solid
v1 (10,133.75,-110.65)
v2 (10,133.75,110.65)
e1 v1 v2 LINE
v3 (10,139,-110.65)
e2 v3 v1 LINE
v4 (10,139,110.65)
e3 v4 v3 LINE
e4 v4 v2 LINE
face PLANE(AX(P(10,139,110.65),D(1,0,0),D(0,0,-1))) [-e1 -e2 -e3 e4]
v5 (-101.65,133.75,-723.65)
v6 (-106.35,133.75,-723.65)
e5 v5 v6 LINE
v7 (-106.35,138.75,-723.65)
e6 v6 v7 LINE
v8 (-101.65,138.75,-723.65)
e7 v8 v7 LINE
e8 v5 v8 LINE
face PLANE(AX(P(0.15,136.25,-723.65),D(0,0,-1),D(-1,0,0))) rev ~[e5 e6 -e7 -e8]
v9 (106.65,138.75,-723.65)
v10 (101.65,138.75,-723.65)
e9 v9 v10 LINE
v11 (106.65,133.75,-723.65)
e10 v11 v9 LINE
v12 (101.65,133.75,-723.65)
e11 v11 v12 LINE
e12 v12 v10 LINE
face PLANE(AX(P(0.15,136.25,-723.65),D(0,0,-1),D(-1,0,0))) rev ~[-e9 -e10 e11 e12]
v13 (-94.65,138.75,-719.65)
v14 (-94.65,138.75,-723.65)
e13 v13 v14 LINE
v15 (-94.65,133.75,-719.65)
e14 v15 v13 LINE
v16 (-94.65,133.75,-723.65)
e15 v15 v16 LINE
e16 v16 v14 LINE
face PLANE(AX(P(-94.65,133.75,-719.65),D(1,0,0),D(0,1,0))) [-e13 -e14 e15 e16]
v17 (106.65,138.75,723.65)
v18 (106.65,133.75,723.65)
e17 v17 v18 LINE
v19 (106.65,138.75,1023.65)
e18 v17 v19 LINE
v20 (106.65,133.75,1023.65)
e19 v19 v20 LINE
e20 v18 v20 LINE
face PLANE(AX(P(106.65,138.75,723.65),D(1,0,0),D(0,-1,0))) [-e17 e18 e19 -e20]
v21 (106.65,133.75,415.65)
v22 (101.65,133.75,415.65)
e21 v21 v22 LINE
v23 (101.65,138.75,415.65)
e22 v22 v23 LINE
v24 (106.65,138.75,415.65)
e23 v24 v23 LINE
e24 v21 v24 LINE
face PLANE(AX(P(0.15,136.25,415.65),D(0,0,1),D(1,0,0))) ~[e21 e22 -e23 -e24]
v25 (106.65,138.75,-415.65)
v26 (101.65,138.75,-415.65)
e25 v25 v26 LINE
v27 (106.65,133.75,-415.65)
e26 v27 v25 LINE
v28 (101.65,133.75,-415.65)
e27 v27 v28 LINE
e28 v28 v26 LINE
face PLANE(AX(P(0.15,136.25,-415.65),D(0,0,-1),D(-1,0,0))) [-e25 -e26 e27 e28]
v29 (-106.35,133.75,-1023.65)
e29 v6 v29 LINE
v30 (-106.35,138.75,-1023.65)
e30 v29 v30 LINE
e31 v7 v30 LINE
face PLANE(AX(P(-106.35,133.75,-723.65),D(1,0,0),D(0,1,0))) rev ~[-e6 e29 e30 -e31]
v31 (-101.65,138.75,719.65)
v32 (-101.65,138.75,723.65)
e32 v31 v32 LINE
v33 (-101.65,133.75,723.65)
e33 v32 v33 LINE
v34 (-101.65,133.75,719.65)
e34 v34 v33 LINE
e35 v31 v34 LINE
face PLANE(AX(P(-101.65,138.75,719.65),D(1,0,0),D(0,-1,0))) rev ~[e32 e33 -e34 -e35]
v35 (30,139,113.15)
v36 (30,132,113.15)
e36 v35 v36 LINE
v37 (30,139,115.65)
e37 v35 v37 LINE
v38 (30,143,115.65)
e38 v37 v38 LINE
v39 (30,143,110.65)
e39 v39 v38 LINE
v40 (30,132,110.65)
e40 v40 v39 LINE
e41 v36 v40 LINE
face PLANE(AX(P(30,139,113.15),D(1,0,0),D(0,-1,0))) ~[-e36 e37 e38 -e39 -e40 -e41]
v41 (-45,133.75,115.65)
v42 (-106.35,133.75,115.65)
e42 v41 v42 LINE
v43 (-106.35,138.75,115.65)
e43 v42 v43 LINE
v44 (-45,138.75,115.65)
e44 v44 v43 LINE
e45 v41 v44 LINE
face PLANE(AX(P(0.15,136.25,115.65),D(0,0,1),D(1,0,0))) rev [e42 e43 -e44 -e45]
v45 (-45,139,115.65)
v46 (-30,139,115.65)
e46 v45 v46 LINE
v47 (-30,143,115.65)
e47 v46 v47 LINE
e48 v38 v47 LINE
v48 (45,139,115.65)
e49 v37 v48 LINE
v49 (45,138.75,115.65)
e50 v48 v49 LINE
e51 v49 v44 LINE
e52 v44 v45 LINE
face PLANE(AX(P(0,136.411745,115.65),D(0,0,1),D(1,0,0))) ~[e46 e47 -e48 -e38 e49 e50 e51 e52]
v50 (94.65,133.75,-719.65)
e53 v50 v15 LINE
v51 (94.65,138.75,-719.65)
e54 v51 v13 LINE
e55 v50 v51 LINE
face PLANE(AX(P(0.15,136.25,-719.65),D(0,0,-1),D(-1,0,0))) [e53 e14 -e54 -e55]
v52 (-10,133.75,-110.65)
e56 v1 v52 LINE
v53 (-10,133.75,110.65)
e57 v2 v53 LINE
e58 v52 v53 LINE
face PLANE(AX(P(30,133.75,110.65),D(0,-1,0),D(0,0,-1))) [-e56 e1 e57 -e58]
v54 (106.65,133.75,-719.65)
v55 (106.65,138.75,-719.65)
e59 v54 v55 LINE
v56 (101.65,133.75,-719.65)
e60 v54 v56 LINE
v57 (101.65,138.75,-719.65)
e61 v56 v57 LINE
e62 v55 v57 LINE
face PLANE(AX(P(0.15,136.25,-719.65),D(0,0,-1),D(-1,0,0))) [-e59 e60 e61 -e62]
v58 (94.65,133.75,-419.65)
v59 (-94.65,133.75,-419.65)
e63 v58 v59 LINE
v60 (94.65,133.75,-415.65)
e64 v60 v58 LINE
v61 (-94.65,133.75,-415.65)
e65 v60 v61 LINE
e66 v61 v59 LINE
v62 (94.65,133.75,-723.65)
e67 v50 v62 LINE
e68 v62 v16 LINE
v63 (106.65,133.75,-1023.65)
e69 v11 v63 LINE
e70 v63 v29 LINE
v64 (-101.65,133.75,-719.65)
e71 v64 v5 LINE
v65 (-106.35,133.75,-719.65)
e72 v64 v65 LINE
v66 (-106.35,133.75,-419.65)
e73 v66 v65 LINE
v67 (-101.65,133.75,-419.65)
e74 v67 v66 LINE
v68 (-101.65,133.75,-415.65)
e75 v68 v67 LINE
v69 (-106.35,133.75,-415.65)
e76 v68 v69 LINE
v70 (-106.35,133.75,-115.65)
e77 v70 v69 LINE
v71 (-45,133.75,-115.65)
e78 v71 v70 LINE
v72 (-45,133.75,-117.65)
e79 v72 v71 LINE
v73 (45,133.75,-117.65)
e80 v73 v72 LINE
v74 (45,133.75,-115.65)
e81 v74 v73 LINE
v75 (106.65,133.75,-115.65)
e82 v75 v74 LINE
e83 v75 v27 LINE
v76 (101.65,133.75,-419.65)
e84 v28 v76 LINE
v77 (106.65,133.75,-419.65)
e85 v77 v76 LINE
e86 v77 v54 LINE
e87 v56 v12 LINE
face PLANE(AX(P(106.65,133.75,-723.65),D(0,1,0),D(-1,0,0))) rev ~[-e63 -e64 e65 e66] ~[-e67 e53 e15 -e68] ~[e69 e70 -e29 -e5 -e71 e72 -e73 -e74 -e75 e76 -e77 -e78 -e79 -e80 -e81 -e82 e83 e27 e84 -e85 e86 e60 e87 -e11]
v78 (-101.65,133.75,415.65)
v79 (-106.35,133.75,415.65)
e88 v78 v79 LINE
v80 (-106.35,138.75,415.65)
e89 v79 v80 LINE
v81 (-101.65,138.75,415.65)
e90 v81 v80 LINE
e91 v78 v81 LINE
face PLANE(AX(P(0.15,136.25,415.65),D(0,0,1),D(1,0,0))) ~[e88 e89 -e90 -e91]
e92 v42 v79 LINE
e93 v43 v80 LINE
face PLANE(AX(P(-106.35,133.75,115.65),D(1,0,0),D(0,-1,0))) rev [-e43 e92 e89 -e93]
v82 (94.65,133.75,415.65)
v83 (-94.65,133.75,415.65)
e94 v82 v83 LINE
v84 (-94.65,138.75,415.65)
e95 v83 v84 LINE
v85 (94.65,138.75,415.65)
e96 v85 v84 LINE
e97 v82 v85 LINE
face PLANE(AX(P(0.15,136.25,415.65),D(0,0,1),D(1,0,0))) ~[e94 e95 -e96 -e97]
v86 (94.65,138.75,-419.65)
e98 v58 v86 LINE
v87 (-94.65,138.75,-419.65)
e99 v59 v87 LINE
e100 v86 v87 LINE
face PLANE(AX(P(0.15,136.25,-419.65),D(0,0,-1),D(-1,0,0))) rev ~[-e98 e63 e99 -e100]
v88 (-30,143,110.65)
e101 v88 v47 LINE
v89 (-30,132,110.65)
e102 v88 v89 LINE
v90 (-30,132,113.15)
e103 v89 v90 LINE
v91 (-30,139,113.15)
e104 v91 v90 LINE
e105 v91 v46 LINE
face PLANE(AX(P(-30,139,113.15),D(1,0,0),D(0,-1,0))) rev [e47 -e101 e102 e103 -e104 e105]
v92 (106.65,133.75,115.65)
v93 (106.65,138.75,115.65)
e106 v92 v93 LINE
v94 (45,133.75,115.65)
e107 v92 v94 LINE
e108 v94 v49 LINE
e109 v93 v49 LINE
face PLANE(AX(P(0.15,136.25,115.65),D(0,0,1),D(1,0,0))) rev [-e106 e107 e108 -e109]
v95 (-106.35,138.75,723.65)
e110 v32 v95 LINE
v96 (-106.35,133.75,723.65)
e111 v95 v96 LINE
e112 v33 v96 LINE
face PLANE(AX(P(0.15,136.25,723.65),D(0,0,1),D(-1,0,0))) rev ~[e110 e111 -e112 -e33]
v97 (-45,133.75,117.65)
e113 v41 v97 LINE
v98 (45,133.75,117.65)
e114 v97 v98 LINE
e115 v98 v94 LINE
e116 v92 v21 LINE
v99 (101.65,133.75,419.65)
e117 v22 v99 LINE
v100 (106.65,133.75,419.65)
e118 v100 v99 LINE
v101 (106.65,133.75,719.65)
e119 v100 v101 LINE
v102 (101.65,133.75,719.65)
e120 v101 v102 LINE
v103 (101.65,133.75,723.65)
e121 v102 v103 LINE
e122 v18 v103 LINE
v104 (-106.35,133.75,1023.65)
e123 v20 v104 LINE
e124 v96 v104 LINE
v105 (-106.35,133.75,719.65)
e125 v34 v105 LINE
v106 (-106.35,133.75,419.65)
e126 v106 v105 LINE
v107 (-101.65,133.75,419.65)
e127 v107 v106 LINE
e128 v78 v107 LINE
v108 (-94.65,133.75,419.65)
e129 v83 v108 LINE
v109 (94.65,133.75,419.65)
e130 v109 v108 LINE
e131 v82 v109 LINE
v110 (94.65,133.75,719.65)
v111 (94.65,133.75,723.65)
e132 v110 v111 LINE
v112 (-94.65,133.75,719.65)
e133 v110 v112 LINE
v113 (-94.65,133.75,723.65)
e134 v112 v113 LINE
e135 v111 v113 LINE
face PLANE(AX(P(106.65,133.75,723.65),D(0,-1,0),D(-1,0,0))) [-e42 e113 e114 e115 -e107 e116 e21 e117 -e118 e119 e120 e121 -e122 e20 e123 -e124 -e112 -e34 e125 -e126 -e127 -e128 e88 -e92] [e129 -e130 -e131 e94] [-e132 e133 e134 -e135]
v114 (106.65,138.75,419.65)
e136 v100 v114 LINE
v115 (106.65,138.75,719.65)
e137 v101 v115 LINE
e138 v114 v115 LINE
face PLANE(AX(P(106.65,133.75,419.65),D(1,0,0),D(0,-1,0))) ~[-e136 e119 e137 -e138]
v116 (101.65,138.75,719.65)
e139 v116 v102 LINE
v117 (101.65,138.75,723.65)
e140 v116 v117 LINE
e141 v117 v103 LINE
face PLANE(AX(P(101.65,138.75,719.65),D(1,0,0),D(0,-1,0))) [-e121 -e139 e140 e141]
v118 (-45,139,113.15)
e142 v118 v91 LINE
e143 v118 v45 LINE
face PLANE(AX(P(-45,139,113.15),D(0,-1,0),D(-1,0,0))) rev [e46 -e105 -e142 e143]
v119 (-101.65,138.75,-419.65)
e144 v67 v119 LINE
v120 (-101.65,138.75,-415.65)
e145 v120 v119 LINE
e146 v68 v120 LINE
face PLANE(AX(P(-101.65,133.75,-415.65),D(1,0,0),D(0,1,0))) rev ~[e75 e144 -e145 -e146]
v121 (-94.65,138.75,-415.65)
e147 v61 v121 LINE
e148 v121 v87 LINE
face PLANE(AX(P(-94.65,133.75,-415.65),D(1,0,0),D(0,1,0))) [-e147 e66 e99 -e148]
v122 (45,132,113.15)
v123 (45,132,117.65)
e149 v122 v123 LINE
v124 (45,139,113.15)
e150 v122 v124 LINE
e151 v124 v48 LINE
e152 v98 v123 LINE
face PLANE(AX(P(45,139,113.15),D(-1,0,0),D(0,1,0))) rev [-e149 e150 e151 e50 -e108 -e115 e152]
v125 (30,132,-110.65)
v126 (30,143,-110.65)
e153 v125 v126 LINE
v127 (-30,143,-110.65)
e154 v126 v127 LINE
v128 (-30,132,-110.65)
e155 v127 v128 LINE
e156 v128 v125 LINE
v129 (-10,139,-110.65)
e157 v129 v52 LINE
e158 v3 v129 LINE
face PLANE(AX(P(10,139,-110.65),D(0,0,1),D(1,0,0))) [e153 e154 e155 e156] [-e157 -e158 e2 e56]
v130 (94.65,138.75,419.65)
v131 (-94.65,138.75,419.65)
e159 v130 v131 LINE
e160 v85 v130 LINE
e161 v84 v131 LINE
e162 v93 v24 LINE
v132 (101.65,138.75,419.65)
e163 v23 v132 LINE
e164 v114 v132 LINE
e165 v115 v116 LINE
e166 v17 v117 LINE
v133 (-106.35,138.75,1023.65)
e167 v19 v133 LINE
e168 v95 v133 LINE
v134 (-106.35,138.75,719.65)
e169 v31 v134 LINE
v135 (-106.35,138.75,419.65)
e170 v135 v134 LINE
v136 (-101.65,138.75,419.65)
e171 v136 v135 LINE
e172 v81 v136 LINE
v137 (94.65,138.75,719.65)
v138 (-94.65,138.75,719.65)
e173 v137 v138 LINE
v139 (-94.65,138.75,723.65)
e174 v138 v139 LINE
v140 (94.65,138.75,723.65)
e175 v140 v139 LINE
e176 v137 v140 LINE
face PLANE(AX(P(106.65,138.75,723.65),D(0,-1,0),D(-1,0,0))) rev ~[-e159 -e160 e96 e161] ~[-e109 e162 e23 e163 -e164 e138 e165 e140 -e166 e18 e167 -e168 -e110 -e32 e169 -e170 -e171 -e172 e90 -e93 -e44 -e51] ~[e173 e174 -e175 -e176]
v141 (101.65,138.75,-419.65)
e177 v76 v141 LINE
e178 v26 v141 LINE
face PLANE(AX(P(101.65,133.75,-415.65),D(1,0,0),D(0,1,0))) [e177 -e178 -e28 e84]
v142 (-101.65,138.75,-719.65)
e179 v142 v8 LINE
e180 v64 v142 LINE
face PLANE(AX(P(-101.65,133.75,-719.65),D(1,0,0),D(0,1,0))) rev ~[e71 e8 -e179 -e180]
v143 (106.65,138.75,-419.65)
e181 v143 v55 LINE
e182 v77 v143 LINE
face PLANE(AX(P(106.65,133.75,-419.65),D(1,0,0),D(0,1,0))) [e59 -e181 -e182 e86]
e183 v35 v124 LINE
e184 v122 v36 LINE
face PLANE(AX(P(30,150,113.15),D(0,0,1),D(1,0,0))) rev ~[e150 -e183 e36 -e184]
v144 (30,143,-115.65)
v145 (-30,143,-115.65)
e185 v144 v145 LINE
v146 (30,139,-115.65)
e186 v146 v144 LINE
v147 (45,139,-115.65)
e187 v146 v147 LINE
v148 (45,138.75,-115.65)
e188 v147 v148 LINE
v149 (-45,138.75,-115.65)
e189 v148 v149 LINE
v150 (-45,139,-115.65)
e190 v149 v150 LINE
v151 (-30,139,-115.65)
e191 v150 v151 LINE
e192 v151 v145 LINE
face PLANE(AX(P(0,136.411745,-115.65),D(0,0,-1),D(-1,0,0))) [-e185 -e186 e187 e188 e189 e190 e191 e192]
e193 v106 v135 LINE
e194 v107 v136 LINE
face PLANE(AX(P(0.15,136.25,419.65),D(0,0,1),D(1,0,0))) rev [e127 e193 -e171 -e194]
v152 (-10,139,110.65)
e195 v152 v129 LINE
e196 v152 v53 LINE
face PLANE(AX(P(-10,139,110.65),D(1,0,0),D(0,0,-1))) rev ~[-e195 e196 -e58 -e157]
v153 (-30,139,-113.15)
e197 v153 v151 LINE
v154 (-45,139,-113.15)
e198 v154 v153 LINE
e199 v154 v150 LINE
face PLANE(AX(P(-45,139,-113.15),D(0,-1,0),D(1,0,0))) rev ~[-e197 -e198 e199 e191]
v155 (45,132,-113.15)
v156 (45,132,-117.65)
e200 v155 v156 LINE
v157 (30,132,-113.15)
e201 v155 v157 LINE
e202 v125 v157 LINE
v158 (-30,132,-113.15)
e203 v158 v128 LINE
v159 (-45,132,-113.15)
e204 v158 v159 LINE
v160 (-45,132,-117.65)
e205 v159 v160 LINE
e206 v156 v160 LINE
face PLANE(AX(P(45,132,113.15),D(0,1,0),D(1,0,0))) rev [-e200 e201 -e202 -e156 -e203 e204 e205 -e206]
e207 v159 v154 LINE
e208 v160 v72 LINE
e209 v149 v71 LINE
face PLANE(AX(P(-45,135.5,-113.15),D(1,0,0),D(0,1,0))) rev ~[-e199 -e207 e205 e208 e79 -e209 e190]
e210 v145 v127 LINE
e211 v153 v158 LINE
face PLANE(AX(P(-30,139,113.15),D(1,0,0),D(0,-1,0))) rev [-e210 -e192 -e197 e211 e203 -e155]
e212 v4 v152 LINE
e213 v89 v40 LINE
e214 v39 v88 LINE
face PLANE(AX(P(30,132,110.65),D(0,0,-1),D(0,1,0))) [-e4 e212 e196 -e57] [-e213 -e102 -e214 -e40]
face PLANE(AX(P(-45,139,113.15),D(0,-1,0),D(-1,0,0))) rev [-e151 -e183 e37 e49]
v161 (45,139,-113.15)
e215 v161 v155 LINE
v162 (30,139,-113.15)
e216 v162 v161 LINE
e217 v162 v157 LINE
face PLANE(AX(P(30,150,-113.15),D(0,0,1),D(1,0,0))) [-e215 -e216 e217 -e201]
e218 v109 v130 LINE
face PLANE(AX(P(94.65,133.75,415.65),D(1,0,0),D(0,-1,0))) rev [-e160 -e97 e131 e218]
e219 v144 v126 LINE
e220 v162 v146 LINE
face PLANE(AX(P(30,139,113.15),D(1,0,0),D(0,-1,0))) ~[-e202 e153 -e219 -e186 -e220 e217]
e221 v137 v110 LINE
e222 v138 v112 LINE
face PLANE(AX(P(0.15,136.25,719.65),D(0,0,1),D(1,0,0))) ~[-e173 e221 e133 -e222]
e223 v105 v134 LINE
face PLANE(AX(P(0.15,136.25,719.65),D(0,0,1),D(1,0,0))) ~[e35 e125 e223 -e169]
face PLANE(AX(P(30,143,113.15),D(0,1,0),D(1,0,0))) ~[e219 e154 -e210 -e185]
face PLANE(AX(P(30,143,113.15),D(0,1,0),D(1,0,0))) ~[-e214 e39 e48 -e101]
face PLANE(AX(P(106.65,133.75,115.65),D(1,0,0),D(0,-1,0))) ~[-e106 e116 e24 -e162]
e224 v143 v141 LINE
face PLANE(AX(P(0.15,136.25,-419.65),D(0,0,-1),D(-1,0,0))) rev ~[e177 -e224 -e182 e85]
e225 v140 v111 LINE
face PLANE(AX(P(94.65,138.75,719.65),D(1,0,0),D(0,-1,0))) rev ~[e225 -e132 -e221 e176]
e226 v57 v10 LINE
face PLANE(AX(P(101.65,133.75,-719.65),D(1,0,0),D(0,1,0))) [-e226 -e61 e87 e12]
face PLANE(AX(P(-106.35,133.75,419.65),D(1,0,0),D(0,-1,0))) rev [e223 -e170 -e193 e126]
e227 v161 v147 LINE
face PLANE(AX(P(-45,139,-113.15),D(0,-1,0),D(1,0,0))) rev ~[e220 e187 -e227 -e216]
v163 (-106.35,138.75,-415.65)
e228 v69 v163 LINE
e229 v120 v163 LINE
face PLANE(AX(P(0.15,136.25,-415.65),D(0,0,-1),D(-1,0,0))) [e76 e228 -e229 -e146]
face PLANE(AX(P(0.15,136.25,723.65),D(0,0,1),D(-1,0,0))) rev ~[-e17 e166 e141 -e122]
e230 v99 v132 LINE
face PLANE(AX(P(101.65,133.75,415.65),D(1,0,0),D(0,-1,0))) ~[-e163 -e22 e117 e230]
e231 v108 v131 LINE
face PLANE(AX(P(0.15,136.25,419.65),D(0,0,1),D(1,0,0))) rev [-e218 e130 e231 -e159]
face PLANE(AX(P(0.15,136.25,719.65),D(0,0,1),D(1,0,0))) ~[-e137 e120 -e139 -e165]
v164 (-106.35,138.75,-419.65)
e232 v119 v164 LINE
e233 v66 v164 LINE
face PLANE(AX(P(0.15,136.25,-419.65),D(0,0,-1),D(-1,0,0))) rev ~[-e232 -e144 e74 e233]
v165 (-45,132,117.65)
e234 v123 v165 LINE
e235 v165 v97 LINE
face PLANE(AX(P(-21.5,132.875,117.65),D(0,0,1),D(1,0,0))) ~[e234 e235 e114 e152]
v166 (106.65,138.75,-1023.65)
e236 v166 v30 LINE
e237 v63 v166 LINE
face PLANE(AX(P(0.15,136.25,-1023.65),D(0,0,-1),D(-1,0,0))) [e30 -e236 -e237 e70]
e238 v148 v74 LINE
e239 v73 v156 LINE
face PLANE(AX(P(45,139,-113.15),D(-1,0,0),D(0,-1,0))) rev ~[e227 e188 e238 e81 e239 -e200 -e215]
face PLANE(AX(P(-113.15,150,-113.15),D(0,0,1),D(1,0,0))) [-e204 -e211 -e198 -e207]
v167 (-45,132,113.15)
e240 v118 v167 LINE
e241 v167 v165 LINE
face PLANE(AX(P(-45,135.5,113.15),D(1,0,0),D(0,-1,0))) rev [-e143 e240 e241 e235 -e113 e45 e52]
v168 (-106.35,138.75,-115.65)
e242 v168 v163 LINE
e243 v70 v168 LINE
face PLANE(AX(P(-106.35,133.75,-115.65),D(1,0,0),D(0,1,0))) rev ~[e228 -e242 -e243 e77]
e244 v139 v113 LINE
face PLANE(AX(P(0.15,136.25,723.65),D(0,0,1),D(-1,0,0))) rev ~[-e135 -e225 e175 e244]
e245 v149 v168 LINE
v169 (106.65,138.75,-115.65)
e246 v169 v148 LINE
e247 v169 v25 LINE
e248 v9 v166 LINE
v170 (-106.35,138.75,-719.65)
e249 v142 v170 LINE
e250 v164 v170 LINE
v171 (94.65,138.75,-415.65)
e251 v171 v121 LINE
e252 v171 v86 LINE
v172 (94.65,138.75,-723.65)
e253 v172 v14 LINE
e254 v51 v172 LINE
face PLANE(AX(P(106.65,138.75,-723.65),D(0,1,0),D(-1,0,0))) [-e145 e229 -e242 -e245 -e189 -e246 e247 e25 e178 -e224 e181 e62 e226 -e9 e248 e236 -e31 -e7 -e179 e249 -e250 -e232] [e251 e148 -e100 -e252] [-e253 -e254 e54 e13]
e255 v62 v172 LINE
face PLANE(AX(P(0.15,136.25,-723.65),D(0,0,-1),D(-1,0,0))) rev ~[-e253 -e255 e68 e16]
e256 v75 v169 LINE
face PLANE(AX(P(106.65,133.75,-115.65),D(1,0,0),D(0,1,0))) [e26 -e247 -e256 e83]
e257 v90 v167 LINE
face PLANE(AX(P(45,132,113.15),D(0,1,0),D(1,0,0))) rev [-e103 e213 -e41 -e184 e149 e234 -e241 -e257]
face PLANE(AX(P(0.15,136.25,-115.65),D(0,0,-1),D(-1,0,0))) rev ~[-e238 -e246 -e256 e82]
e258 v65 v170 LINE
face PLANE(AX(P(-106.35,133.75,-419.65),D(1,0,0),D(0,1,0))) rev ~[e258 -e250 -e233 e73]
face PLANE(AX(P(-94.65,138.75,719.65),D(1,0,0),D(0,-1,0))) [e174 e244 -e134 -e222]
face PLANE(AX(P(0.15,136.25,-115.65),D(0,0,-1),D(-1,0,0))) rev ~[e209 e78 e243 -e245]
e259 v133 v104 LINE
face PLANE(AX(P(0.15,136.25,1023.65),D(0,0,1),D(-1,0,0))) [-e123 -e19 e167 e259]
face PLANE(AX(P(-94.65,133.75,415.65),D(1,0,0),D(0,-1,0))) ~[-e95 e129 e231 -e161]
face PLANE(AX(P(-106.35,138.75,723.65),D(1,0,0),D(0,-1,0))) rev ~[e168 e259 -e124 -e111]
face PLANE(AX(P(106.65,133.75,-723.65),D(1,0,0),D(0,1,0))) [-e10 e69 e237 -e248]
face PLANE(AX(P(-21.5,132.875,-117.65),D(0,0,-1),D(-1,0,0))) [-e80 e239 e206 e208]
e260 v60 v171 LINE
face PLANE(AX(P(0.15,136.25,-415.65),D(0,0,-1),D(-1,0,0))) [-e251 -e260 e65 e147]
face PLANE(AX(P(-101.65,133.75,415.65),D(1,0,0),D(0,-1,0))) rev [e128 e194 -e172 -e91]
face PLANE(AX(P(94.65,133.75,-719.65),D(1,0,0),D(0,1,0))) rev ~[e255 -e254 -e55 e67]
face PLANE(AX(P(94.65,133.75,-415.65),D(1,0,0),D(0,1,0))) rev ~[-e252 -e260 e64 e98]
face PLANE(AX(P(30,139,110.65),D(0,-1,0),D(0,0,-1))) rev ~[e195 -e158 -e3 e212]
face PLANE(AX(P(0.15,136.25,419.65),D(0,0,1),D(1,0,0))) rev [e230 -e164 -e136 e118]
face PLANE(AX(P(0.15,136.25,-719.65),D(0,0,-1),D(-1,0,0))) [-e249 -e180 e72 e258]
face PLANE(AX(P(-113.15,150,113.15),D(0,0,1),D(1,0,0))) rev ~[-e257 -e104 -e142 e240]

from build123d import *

# Parameters (mm, degrees)
ESTRUSIONE_ESTRUSIONE2_DEPTH      = 150
ESTRUSIONE_ESTRUSIONE2_DEPTH_BACK = 150
ESTRUSIONE_ESTRUSIONE3_DEPTH      = 3.3
ESTRUSIONE_ESTRUSIONE3_DEPTH_BACK = 303.3
SCHIZZO3_W                        = 6.5
SCHIZZO3_H                        = 6.5
SCHIZZO11_W                       = 60
SCHIZZO11_H                       = 4
ESTRUSIONE_ESTRUSIONE10_DEPTH     = 2.5
ESTRUSIONE_ESTRUSIONE11_DEPTH     = 2.5
ESTRUSIONE_ESTRUSIONE12_DEPTH     = 4.5
SCHIZZO13_W                       = 213
SCHIZZO13_H                       = 5
ESTRUSIONE_ESTRUSIONE13_DEPTH     = 300
SCHIZZO15_W                       = 7
SCHIZZO15_H                       = 5
ESTRUSIONE_ESTRUSIONE14_DEPTH     = 4
SCHIZZO16_W                       = 213
SCHIZZO16_H                       = 5
ESTRUSIONE_ESTRUSIONE15_DEPTH     = 300
RIPETIZIONE_A_L2_COUNT            = 2
RIPETIZIONE_A_L2_PITCH            = 304
SPECCHIA2_COPY_1_SKETCH_W         = 7
SPECCHIA2_COPY_1_SKETCH_H         = 5
SPECCHIA2_COPY_1_DEPTH            = 4
SPECCHIA2_COPY_2_SKETCH_W         = 213
SPECCHIA2_COPY_2_SKETCH_H         = 5
SPECCHIA2_COPY_2_DEPTH            = 300
SCHIZZO17_W                       = 83.15
SCHIZZO17_H                       = 226.3
TAGLIO_ESTRUSIONE1_DEPTH          = 404
SCHIZZO18_W                       = 226.3
SCHIZZO18_H                       = 7
SCHIZZO18_H_2                     = 282
TAGLIO_ESTRUSIONE2_DEPTH          = 404
SCHIZZO23_W                       = 221.3
SCHIZZO23_H                       = 4
SCHIZZO23_H_2                     = 1.75
TAGLIO_ESTRUSIONE7_DEPTH          = 404
SCHIZZO24_W                       = 20
SCHIZZO24_H                       = 221.3
TAGLIO_ESTRUSIONE8_DEPTH          = 404


with BuildPart() as part:
    # Schizzo2 → Estrusione-Estrusione2 (new, two sides: drawn at the far end of the back side and taken through both)
    with BuildSketch(Plane(origin=(0, 0, 0), x_dir=(1, 0, 0), z_dir=(0, 1, 0)).offset(-ESTRUSIONE_ESTRUSIONE2_DEPTH_BACK)):
        Polygon((-113.15, 106.65), (-113.15, -106.65), (-106.65, -106.65), (-106.65, -113.15), (106.65, -113.15), (106.65, -106.65), (113.15, -106.65), (113.15, 106.65), (106.65, 106.65), (106.65, 113.15), (-106.65, 113.15), (-106.65, 106.65), align=None)
    extrude(amount=ESTRUSIONE_ESTRUSIONE2_DEPTH + ESTRUSIONE_ESTRUSIONE2_DEPTH_BACK)

    # Schizzo3 → Estrusione-Estrusione3 (add, two sides: drawn at the far end of the back side and taken through both)
    with BuildSketch(Plane.XZ.offset(150).offset(-ESTRUSIONE_ESTRUSIONE3_DEPTH_BACK)):
        with Locations((-109.9, 109.9)):
            Rectangle(SCHIZZO3_W, SCHIZZO3_H)
        with Locations((109.9, 109.9)):
            Rectangle(SCHIZZO3_W, SCHIZZO3_H)
        with Locations((109.9, -109.9)):
            Rectangle(SCHIZZO3_W, SCHIZZO3_H)
        with Locations((-109.9, -109.9)):
            Rectangle(SCHIZZO3_W, SCHIZZO3_H)
    extrude(amount=ESTRUSIONE_ESTRUSIONE3_DEPTH + ESTRUSIONE_ESTRUSIONE3_DEPTH_BACK)

    # Schizzo11 → Estrusione-Estrusione10 (add)
    with BuildSketch(Plane(origin=(0, 0, -113.15), x_dir=(-1, 0, 0), z_dir=(0, 0, -1))):
        with Locations((0, 141)):
            Rectangle(SCHIZZO11_W, SCHIZZO11_H)
    estrusione_estrusione10 = extrude(amount=ESTRUSIONE_ESTRUSIONE10_DEPTH)

    # Schizzo11<5> → Estrusione-Estrusione11 (add)
    with BuildSketch(Plane(origin=(0, 0, -113.15), x_dir=(-1, 0, 0), z_dir=(0, 0, -1))):
        Polygon((30, 139), (-30, 139), (-45, 139), (-45, 135.5), (-43, 135.5), (-43, 133.75), (0, 133.75), (43, 133.75), (43, 135.5), (45, 135.5), (45, 139), align=None)
    estrusione_estrusione11 = extrude(amount=ESTRUSIONE_ESTRUSIONE11_DEPTH)

    # Schizzo11<8> → Estrusione-Estrusione12 (add)
    with BuildSketch(Plane(origin=(0, 0, -113.15), x_dir=(-1, 0, 0), z_dir=(0, 0, -1))):
        Polygon((-43, 135.5), (-45, 135.5), (-45, 132), (45, 132), (45, 135.5), (43, 135.5), (43, 133.75), (-43, 133.75), align=None)
    estrusione_estrusione12 = extrude(amount=ESTRUSIONE_ESTRUSIONE12_DEPTH)

    # Schizzo13 → Estrusione-Estrusione13 (add)
    with BuildSketch(Plane(origin=(0, 0, -115.65), x_dir=(-1, 0, 0), z_dir=(0, 0, -1))):
        with Locations((-0.15, 136.25)):
            Rectangle(SCHIZZO13_W, SCHIZZO13_H)
    estrusione_estrusione13 = extrude(amount=ESTRUSIONE_ESTRUSIONE13_DEPTH)

    # Schizzo15 → Estrusione-Estrusione14 (add)
    with BuildSketch(Plane(origin=(0, 0, -415.65), x_dir=(-1, 0, 0), z_dir=(0, 0, -1))):
        with Locations((-98.15, 136.25)):
            Rectangle(SCHIZZO15_W, SCHIZZO15_H)
        with Locations((98.15, 136.25)):
            Rectangle(SCHIZZO15_W, SCHIZZO15_H)
    estrusione_estrusione14 = extrude(amount=ESTRUSIONE_ESTRUSIONE14_DEPTH)

    # Schizzo16 → Estrusione-Estrusione15 (add)
    with BuildSketch(Plane(origin=(0, 0, -419.65), x_dir=(-1, 0, 0), z_dir=(0, 0, -1))):
        with Locations((-0.15, 136.25)):
            Rectangle(SCHIZZO16_W, SCHIZZO16_H)
    estrusione_estrusione15 = extrude(amount=ESTRUSIONE_ESTRUSIONE15_DEPTH)

    # Ripetizione a L2: Estrusione-Estrusione14, Estrusione-Estrusione15 ×2
    with Locations(*[(0, 0, -i * RIPETIZIONE_A_L2_PITCH) for i in range(1, RIPETIZIONE_A_L2_COUNT)]):
        add(estrusione_estrusione14)
        add(estrusione_estrusione15)

    # Specchia2: Estrusione-Estrusione10, Estrusione-Estrusione11, Estrusione-Estrusione12, Estrusione-Estrusione13, Estrusione-Estrusione14, Estrusione-Estrusione15 across plane
    add(estrusione_estrusione10.mirror(Plane.XY))
    add(estrusione_estrusione11.mirror(Plane.XY))
    add(estrusione_estrusione12.mirror(Plane.XY))
    add(estrusione_estrusione13.mirror(Plane.XY))
    add(estrusione_estrusione14.mirror(Plane.XY))
    add(estrusione_estrusione15.mirror(Plane.XY))

    # Specchia2 copy 1 sketch → Specchia2 copy 1 (add)
    with BuildSketch(Plane(origin=(0, 0, 719.65), x_dir=(-1, 0, 0), z_dir=(0, 0, 1))):
        with Locations((-98.15, -136.25)):
            Rectangle(SPECCHIA2_COPY_1_SKETCH_W, SPECCHIA2_COPY_1_SKETCH_H)
        with Locations((98.15, -136.25)):
            Rectangle(SPECCHIA2_COPY_1_SKETCH_W, SPECCHIA2_COPY_1_SKETCH_H)
    extrude(amount=SPECCHIA2_COPY_1_DEPTH)

    # Specchia2 copy 2 sketch → Specchia2 copy 2 (add)
    with BuildSketch(Plane(origin=(0, 0, 723.65), x_dir=(-1, 0, 0), z_dir=(0, 0, 1))):
        with Locations((-0.15, -136.25)):
            Rectangle(SPECCHIA2_COPY_2_SKETCH_W, SPECCHIA2_COPY_2_SKETCH_H)
    extrude(amount=SPECCHIA2_COPY_2_DEPTH)

    # Schizzo17 → Taglio-Estrusione1 (cut)
    with BuildSketch(Plane(origin=(0, 150, 0), x_dir=(1, 0, 0), z_dir=(0, 1, 0))):
        with Locations((-71.575, 0)):
            Rectangle(SCHIZZO17_W, SCHIZZO17_H)
        with Locations((71.575, 0)):
            Rectangle(SCHIZZO17_W, SCHIZZO17_H)
    extrude(amount=-TAGLIO_ESTRUSIONE1_DEPTH, mode=Mode.SUBTRACT)


with BuildPart() as taglio_estrusione1_piece_1:
    # of the separate pieces the step leaves, piece 1, a body of its own (taglio_estrusione1_pieces)
    add(part.part.solids().sort_by_distance((106.65, 138.75, 723.65))[0])

    # Schizzo18 → Taglio-Estrusione2 (cut)
    with BuildSketch(Plane(origin=(30, 0, 0), x_dir=(0, 0, -1), z_dir=(1, 0, 0))):
        with Locations((0, 146.5)):
            Rectangle(SCHIZZO18_W, SCHIZZO18_H)
        with Locations((0, -9)):
            Rectangle(SCHIZZO18_W, SCHIZZO18_H_2)
    extrude(amount=-TAGLIO_ESTRUSIONE2_DEPTH, mode=Mode.SUBTRACT)

    # Schizzo23 → Taglio-Estrusione7 (cut)
    with BuildSketch(Plane(origin=(30, 0, 0), x_dir=(0, 0, -1), z_dir=(1, 0, 0))):
        with Locations((0, 141)):
            Rectangle(SCHIZZO23_W, SCHIZZO23_H)
        with Locations((0, 132.875)):
            Rectangle(SCHIZZO23_W, SCHIZZO23_H_2)
    extrude(amount=-TAGLIO_ESTRUSIONE7_DEPTH, mode=Mode.SUBTRACT)

    # Schizzo24 → Taglio-Estrusione8 (cut)
    with BuildSketch(Plane(origin=(0, 139, 0), x_dir=(1, 0, 0), z_dir=(0, 1, 0))):
        with Locations((-20, 0)):
            Rectangle(SCHIZZO24_W, SCHIZZO24_H)
        with Locations((20, 0)):
            Rectangle(SCHIZZO24_W, SCHIZZO24_H)
    extrude(amount=-TAGLIO_ESTRUSIONE8_DEPTH, mode=Mode.SUBTRACT)


with BuildPart() as taglio_estrusione1_piece_2:
    # of the separate pieces the step leaves, piece 2, a body of its own (taglio_estrusione1_pieces)
    add(part.part.solids().sort_by_distance((-106.65, 150, 113.15))[0])


with BuildPart() as taglio_estrusione1_piece_3:
    # of the separate pieces the step leaves, piece 3, a body of its own (taglio_estrusione1_pieces)
    add(part.part.solids().sort_by_distance((-106.65, 150, -106.65))[0])


with BuildPart() as taglio_estrusione1_piece_4:
    # of the separate pieces the step leaves, piece 4, a body of its own (taglio_estrusione1_pieces)
    add(part.part.solids().sort_by_distance((113.15, 150, -106.65))[0])


with BuildPart() as taglio_estrusione1_piece_5:
    # of the separate pieces the step leaves, piece 5, a body of its own (taglio_estrusione1_pieces)
    add(part.part.solids().sort_by_distance((106.65, 150, 113.15))[0])


solid = taglio_estrusione1_piece_1.part
